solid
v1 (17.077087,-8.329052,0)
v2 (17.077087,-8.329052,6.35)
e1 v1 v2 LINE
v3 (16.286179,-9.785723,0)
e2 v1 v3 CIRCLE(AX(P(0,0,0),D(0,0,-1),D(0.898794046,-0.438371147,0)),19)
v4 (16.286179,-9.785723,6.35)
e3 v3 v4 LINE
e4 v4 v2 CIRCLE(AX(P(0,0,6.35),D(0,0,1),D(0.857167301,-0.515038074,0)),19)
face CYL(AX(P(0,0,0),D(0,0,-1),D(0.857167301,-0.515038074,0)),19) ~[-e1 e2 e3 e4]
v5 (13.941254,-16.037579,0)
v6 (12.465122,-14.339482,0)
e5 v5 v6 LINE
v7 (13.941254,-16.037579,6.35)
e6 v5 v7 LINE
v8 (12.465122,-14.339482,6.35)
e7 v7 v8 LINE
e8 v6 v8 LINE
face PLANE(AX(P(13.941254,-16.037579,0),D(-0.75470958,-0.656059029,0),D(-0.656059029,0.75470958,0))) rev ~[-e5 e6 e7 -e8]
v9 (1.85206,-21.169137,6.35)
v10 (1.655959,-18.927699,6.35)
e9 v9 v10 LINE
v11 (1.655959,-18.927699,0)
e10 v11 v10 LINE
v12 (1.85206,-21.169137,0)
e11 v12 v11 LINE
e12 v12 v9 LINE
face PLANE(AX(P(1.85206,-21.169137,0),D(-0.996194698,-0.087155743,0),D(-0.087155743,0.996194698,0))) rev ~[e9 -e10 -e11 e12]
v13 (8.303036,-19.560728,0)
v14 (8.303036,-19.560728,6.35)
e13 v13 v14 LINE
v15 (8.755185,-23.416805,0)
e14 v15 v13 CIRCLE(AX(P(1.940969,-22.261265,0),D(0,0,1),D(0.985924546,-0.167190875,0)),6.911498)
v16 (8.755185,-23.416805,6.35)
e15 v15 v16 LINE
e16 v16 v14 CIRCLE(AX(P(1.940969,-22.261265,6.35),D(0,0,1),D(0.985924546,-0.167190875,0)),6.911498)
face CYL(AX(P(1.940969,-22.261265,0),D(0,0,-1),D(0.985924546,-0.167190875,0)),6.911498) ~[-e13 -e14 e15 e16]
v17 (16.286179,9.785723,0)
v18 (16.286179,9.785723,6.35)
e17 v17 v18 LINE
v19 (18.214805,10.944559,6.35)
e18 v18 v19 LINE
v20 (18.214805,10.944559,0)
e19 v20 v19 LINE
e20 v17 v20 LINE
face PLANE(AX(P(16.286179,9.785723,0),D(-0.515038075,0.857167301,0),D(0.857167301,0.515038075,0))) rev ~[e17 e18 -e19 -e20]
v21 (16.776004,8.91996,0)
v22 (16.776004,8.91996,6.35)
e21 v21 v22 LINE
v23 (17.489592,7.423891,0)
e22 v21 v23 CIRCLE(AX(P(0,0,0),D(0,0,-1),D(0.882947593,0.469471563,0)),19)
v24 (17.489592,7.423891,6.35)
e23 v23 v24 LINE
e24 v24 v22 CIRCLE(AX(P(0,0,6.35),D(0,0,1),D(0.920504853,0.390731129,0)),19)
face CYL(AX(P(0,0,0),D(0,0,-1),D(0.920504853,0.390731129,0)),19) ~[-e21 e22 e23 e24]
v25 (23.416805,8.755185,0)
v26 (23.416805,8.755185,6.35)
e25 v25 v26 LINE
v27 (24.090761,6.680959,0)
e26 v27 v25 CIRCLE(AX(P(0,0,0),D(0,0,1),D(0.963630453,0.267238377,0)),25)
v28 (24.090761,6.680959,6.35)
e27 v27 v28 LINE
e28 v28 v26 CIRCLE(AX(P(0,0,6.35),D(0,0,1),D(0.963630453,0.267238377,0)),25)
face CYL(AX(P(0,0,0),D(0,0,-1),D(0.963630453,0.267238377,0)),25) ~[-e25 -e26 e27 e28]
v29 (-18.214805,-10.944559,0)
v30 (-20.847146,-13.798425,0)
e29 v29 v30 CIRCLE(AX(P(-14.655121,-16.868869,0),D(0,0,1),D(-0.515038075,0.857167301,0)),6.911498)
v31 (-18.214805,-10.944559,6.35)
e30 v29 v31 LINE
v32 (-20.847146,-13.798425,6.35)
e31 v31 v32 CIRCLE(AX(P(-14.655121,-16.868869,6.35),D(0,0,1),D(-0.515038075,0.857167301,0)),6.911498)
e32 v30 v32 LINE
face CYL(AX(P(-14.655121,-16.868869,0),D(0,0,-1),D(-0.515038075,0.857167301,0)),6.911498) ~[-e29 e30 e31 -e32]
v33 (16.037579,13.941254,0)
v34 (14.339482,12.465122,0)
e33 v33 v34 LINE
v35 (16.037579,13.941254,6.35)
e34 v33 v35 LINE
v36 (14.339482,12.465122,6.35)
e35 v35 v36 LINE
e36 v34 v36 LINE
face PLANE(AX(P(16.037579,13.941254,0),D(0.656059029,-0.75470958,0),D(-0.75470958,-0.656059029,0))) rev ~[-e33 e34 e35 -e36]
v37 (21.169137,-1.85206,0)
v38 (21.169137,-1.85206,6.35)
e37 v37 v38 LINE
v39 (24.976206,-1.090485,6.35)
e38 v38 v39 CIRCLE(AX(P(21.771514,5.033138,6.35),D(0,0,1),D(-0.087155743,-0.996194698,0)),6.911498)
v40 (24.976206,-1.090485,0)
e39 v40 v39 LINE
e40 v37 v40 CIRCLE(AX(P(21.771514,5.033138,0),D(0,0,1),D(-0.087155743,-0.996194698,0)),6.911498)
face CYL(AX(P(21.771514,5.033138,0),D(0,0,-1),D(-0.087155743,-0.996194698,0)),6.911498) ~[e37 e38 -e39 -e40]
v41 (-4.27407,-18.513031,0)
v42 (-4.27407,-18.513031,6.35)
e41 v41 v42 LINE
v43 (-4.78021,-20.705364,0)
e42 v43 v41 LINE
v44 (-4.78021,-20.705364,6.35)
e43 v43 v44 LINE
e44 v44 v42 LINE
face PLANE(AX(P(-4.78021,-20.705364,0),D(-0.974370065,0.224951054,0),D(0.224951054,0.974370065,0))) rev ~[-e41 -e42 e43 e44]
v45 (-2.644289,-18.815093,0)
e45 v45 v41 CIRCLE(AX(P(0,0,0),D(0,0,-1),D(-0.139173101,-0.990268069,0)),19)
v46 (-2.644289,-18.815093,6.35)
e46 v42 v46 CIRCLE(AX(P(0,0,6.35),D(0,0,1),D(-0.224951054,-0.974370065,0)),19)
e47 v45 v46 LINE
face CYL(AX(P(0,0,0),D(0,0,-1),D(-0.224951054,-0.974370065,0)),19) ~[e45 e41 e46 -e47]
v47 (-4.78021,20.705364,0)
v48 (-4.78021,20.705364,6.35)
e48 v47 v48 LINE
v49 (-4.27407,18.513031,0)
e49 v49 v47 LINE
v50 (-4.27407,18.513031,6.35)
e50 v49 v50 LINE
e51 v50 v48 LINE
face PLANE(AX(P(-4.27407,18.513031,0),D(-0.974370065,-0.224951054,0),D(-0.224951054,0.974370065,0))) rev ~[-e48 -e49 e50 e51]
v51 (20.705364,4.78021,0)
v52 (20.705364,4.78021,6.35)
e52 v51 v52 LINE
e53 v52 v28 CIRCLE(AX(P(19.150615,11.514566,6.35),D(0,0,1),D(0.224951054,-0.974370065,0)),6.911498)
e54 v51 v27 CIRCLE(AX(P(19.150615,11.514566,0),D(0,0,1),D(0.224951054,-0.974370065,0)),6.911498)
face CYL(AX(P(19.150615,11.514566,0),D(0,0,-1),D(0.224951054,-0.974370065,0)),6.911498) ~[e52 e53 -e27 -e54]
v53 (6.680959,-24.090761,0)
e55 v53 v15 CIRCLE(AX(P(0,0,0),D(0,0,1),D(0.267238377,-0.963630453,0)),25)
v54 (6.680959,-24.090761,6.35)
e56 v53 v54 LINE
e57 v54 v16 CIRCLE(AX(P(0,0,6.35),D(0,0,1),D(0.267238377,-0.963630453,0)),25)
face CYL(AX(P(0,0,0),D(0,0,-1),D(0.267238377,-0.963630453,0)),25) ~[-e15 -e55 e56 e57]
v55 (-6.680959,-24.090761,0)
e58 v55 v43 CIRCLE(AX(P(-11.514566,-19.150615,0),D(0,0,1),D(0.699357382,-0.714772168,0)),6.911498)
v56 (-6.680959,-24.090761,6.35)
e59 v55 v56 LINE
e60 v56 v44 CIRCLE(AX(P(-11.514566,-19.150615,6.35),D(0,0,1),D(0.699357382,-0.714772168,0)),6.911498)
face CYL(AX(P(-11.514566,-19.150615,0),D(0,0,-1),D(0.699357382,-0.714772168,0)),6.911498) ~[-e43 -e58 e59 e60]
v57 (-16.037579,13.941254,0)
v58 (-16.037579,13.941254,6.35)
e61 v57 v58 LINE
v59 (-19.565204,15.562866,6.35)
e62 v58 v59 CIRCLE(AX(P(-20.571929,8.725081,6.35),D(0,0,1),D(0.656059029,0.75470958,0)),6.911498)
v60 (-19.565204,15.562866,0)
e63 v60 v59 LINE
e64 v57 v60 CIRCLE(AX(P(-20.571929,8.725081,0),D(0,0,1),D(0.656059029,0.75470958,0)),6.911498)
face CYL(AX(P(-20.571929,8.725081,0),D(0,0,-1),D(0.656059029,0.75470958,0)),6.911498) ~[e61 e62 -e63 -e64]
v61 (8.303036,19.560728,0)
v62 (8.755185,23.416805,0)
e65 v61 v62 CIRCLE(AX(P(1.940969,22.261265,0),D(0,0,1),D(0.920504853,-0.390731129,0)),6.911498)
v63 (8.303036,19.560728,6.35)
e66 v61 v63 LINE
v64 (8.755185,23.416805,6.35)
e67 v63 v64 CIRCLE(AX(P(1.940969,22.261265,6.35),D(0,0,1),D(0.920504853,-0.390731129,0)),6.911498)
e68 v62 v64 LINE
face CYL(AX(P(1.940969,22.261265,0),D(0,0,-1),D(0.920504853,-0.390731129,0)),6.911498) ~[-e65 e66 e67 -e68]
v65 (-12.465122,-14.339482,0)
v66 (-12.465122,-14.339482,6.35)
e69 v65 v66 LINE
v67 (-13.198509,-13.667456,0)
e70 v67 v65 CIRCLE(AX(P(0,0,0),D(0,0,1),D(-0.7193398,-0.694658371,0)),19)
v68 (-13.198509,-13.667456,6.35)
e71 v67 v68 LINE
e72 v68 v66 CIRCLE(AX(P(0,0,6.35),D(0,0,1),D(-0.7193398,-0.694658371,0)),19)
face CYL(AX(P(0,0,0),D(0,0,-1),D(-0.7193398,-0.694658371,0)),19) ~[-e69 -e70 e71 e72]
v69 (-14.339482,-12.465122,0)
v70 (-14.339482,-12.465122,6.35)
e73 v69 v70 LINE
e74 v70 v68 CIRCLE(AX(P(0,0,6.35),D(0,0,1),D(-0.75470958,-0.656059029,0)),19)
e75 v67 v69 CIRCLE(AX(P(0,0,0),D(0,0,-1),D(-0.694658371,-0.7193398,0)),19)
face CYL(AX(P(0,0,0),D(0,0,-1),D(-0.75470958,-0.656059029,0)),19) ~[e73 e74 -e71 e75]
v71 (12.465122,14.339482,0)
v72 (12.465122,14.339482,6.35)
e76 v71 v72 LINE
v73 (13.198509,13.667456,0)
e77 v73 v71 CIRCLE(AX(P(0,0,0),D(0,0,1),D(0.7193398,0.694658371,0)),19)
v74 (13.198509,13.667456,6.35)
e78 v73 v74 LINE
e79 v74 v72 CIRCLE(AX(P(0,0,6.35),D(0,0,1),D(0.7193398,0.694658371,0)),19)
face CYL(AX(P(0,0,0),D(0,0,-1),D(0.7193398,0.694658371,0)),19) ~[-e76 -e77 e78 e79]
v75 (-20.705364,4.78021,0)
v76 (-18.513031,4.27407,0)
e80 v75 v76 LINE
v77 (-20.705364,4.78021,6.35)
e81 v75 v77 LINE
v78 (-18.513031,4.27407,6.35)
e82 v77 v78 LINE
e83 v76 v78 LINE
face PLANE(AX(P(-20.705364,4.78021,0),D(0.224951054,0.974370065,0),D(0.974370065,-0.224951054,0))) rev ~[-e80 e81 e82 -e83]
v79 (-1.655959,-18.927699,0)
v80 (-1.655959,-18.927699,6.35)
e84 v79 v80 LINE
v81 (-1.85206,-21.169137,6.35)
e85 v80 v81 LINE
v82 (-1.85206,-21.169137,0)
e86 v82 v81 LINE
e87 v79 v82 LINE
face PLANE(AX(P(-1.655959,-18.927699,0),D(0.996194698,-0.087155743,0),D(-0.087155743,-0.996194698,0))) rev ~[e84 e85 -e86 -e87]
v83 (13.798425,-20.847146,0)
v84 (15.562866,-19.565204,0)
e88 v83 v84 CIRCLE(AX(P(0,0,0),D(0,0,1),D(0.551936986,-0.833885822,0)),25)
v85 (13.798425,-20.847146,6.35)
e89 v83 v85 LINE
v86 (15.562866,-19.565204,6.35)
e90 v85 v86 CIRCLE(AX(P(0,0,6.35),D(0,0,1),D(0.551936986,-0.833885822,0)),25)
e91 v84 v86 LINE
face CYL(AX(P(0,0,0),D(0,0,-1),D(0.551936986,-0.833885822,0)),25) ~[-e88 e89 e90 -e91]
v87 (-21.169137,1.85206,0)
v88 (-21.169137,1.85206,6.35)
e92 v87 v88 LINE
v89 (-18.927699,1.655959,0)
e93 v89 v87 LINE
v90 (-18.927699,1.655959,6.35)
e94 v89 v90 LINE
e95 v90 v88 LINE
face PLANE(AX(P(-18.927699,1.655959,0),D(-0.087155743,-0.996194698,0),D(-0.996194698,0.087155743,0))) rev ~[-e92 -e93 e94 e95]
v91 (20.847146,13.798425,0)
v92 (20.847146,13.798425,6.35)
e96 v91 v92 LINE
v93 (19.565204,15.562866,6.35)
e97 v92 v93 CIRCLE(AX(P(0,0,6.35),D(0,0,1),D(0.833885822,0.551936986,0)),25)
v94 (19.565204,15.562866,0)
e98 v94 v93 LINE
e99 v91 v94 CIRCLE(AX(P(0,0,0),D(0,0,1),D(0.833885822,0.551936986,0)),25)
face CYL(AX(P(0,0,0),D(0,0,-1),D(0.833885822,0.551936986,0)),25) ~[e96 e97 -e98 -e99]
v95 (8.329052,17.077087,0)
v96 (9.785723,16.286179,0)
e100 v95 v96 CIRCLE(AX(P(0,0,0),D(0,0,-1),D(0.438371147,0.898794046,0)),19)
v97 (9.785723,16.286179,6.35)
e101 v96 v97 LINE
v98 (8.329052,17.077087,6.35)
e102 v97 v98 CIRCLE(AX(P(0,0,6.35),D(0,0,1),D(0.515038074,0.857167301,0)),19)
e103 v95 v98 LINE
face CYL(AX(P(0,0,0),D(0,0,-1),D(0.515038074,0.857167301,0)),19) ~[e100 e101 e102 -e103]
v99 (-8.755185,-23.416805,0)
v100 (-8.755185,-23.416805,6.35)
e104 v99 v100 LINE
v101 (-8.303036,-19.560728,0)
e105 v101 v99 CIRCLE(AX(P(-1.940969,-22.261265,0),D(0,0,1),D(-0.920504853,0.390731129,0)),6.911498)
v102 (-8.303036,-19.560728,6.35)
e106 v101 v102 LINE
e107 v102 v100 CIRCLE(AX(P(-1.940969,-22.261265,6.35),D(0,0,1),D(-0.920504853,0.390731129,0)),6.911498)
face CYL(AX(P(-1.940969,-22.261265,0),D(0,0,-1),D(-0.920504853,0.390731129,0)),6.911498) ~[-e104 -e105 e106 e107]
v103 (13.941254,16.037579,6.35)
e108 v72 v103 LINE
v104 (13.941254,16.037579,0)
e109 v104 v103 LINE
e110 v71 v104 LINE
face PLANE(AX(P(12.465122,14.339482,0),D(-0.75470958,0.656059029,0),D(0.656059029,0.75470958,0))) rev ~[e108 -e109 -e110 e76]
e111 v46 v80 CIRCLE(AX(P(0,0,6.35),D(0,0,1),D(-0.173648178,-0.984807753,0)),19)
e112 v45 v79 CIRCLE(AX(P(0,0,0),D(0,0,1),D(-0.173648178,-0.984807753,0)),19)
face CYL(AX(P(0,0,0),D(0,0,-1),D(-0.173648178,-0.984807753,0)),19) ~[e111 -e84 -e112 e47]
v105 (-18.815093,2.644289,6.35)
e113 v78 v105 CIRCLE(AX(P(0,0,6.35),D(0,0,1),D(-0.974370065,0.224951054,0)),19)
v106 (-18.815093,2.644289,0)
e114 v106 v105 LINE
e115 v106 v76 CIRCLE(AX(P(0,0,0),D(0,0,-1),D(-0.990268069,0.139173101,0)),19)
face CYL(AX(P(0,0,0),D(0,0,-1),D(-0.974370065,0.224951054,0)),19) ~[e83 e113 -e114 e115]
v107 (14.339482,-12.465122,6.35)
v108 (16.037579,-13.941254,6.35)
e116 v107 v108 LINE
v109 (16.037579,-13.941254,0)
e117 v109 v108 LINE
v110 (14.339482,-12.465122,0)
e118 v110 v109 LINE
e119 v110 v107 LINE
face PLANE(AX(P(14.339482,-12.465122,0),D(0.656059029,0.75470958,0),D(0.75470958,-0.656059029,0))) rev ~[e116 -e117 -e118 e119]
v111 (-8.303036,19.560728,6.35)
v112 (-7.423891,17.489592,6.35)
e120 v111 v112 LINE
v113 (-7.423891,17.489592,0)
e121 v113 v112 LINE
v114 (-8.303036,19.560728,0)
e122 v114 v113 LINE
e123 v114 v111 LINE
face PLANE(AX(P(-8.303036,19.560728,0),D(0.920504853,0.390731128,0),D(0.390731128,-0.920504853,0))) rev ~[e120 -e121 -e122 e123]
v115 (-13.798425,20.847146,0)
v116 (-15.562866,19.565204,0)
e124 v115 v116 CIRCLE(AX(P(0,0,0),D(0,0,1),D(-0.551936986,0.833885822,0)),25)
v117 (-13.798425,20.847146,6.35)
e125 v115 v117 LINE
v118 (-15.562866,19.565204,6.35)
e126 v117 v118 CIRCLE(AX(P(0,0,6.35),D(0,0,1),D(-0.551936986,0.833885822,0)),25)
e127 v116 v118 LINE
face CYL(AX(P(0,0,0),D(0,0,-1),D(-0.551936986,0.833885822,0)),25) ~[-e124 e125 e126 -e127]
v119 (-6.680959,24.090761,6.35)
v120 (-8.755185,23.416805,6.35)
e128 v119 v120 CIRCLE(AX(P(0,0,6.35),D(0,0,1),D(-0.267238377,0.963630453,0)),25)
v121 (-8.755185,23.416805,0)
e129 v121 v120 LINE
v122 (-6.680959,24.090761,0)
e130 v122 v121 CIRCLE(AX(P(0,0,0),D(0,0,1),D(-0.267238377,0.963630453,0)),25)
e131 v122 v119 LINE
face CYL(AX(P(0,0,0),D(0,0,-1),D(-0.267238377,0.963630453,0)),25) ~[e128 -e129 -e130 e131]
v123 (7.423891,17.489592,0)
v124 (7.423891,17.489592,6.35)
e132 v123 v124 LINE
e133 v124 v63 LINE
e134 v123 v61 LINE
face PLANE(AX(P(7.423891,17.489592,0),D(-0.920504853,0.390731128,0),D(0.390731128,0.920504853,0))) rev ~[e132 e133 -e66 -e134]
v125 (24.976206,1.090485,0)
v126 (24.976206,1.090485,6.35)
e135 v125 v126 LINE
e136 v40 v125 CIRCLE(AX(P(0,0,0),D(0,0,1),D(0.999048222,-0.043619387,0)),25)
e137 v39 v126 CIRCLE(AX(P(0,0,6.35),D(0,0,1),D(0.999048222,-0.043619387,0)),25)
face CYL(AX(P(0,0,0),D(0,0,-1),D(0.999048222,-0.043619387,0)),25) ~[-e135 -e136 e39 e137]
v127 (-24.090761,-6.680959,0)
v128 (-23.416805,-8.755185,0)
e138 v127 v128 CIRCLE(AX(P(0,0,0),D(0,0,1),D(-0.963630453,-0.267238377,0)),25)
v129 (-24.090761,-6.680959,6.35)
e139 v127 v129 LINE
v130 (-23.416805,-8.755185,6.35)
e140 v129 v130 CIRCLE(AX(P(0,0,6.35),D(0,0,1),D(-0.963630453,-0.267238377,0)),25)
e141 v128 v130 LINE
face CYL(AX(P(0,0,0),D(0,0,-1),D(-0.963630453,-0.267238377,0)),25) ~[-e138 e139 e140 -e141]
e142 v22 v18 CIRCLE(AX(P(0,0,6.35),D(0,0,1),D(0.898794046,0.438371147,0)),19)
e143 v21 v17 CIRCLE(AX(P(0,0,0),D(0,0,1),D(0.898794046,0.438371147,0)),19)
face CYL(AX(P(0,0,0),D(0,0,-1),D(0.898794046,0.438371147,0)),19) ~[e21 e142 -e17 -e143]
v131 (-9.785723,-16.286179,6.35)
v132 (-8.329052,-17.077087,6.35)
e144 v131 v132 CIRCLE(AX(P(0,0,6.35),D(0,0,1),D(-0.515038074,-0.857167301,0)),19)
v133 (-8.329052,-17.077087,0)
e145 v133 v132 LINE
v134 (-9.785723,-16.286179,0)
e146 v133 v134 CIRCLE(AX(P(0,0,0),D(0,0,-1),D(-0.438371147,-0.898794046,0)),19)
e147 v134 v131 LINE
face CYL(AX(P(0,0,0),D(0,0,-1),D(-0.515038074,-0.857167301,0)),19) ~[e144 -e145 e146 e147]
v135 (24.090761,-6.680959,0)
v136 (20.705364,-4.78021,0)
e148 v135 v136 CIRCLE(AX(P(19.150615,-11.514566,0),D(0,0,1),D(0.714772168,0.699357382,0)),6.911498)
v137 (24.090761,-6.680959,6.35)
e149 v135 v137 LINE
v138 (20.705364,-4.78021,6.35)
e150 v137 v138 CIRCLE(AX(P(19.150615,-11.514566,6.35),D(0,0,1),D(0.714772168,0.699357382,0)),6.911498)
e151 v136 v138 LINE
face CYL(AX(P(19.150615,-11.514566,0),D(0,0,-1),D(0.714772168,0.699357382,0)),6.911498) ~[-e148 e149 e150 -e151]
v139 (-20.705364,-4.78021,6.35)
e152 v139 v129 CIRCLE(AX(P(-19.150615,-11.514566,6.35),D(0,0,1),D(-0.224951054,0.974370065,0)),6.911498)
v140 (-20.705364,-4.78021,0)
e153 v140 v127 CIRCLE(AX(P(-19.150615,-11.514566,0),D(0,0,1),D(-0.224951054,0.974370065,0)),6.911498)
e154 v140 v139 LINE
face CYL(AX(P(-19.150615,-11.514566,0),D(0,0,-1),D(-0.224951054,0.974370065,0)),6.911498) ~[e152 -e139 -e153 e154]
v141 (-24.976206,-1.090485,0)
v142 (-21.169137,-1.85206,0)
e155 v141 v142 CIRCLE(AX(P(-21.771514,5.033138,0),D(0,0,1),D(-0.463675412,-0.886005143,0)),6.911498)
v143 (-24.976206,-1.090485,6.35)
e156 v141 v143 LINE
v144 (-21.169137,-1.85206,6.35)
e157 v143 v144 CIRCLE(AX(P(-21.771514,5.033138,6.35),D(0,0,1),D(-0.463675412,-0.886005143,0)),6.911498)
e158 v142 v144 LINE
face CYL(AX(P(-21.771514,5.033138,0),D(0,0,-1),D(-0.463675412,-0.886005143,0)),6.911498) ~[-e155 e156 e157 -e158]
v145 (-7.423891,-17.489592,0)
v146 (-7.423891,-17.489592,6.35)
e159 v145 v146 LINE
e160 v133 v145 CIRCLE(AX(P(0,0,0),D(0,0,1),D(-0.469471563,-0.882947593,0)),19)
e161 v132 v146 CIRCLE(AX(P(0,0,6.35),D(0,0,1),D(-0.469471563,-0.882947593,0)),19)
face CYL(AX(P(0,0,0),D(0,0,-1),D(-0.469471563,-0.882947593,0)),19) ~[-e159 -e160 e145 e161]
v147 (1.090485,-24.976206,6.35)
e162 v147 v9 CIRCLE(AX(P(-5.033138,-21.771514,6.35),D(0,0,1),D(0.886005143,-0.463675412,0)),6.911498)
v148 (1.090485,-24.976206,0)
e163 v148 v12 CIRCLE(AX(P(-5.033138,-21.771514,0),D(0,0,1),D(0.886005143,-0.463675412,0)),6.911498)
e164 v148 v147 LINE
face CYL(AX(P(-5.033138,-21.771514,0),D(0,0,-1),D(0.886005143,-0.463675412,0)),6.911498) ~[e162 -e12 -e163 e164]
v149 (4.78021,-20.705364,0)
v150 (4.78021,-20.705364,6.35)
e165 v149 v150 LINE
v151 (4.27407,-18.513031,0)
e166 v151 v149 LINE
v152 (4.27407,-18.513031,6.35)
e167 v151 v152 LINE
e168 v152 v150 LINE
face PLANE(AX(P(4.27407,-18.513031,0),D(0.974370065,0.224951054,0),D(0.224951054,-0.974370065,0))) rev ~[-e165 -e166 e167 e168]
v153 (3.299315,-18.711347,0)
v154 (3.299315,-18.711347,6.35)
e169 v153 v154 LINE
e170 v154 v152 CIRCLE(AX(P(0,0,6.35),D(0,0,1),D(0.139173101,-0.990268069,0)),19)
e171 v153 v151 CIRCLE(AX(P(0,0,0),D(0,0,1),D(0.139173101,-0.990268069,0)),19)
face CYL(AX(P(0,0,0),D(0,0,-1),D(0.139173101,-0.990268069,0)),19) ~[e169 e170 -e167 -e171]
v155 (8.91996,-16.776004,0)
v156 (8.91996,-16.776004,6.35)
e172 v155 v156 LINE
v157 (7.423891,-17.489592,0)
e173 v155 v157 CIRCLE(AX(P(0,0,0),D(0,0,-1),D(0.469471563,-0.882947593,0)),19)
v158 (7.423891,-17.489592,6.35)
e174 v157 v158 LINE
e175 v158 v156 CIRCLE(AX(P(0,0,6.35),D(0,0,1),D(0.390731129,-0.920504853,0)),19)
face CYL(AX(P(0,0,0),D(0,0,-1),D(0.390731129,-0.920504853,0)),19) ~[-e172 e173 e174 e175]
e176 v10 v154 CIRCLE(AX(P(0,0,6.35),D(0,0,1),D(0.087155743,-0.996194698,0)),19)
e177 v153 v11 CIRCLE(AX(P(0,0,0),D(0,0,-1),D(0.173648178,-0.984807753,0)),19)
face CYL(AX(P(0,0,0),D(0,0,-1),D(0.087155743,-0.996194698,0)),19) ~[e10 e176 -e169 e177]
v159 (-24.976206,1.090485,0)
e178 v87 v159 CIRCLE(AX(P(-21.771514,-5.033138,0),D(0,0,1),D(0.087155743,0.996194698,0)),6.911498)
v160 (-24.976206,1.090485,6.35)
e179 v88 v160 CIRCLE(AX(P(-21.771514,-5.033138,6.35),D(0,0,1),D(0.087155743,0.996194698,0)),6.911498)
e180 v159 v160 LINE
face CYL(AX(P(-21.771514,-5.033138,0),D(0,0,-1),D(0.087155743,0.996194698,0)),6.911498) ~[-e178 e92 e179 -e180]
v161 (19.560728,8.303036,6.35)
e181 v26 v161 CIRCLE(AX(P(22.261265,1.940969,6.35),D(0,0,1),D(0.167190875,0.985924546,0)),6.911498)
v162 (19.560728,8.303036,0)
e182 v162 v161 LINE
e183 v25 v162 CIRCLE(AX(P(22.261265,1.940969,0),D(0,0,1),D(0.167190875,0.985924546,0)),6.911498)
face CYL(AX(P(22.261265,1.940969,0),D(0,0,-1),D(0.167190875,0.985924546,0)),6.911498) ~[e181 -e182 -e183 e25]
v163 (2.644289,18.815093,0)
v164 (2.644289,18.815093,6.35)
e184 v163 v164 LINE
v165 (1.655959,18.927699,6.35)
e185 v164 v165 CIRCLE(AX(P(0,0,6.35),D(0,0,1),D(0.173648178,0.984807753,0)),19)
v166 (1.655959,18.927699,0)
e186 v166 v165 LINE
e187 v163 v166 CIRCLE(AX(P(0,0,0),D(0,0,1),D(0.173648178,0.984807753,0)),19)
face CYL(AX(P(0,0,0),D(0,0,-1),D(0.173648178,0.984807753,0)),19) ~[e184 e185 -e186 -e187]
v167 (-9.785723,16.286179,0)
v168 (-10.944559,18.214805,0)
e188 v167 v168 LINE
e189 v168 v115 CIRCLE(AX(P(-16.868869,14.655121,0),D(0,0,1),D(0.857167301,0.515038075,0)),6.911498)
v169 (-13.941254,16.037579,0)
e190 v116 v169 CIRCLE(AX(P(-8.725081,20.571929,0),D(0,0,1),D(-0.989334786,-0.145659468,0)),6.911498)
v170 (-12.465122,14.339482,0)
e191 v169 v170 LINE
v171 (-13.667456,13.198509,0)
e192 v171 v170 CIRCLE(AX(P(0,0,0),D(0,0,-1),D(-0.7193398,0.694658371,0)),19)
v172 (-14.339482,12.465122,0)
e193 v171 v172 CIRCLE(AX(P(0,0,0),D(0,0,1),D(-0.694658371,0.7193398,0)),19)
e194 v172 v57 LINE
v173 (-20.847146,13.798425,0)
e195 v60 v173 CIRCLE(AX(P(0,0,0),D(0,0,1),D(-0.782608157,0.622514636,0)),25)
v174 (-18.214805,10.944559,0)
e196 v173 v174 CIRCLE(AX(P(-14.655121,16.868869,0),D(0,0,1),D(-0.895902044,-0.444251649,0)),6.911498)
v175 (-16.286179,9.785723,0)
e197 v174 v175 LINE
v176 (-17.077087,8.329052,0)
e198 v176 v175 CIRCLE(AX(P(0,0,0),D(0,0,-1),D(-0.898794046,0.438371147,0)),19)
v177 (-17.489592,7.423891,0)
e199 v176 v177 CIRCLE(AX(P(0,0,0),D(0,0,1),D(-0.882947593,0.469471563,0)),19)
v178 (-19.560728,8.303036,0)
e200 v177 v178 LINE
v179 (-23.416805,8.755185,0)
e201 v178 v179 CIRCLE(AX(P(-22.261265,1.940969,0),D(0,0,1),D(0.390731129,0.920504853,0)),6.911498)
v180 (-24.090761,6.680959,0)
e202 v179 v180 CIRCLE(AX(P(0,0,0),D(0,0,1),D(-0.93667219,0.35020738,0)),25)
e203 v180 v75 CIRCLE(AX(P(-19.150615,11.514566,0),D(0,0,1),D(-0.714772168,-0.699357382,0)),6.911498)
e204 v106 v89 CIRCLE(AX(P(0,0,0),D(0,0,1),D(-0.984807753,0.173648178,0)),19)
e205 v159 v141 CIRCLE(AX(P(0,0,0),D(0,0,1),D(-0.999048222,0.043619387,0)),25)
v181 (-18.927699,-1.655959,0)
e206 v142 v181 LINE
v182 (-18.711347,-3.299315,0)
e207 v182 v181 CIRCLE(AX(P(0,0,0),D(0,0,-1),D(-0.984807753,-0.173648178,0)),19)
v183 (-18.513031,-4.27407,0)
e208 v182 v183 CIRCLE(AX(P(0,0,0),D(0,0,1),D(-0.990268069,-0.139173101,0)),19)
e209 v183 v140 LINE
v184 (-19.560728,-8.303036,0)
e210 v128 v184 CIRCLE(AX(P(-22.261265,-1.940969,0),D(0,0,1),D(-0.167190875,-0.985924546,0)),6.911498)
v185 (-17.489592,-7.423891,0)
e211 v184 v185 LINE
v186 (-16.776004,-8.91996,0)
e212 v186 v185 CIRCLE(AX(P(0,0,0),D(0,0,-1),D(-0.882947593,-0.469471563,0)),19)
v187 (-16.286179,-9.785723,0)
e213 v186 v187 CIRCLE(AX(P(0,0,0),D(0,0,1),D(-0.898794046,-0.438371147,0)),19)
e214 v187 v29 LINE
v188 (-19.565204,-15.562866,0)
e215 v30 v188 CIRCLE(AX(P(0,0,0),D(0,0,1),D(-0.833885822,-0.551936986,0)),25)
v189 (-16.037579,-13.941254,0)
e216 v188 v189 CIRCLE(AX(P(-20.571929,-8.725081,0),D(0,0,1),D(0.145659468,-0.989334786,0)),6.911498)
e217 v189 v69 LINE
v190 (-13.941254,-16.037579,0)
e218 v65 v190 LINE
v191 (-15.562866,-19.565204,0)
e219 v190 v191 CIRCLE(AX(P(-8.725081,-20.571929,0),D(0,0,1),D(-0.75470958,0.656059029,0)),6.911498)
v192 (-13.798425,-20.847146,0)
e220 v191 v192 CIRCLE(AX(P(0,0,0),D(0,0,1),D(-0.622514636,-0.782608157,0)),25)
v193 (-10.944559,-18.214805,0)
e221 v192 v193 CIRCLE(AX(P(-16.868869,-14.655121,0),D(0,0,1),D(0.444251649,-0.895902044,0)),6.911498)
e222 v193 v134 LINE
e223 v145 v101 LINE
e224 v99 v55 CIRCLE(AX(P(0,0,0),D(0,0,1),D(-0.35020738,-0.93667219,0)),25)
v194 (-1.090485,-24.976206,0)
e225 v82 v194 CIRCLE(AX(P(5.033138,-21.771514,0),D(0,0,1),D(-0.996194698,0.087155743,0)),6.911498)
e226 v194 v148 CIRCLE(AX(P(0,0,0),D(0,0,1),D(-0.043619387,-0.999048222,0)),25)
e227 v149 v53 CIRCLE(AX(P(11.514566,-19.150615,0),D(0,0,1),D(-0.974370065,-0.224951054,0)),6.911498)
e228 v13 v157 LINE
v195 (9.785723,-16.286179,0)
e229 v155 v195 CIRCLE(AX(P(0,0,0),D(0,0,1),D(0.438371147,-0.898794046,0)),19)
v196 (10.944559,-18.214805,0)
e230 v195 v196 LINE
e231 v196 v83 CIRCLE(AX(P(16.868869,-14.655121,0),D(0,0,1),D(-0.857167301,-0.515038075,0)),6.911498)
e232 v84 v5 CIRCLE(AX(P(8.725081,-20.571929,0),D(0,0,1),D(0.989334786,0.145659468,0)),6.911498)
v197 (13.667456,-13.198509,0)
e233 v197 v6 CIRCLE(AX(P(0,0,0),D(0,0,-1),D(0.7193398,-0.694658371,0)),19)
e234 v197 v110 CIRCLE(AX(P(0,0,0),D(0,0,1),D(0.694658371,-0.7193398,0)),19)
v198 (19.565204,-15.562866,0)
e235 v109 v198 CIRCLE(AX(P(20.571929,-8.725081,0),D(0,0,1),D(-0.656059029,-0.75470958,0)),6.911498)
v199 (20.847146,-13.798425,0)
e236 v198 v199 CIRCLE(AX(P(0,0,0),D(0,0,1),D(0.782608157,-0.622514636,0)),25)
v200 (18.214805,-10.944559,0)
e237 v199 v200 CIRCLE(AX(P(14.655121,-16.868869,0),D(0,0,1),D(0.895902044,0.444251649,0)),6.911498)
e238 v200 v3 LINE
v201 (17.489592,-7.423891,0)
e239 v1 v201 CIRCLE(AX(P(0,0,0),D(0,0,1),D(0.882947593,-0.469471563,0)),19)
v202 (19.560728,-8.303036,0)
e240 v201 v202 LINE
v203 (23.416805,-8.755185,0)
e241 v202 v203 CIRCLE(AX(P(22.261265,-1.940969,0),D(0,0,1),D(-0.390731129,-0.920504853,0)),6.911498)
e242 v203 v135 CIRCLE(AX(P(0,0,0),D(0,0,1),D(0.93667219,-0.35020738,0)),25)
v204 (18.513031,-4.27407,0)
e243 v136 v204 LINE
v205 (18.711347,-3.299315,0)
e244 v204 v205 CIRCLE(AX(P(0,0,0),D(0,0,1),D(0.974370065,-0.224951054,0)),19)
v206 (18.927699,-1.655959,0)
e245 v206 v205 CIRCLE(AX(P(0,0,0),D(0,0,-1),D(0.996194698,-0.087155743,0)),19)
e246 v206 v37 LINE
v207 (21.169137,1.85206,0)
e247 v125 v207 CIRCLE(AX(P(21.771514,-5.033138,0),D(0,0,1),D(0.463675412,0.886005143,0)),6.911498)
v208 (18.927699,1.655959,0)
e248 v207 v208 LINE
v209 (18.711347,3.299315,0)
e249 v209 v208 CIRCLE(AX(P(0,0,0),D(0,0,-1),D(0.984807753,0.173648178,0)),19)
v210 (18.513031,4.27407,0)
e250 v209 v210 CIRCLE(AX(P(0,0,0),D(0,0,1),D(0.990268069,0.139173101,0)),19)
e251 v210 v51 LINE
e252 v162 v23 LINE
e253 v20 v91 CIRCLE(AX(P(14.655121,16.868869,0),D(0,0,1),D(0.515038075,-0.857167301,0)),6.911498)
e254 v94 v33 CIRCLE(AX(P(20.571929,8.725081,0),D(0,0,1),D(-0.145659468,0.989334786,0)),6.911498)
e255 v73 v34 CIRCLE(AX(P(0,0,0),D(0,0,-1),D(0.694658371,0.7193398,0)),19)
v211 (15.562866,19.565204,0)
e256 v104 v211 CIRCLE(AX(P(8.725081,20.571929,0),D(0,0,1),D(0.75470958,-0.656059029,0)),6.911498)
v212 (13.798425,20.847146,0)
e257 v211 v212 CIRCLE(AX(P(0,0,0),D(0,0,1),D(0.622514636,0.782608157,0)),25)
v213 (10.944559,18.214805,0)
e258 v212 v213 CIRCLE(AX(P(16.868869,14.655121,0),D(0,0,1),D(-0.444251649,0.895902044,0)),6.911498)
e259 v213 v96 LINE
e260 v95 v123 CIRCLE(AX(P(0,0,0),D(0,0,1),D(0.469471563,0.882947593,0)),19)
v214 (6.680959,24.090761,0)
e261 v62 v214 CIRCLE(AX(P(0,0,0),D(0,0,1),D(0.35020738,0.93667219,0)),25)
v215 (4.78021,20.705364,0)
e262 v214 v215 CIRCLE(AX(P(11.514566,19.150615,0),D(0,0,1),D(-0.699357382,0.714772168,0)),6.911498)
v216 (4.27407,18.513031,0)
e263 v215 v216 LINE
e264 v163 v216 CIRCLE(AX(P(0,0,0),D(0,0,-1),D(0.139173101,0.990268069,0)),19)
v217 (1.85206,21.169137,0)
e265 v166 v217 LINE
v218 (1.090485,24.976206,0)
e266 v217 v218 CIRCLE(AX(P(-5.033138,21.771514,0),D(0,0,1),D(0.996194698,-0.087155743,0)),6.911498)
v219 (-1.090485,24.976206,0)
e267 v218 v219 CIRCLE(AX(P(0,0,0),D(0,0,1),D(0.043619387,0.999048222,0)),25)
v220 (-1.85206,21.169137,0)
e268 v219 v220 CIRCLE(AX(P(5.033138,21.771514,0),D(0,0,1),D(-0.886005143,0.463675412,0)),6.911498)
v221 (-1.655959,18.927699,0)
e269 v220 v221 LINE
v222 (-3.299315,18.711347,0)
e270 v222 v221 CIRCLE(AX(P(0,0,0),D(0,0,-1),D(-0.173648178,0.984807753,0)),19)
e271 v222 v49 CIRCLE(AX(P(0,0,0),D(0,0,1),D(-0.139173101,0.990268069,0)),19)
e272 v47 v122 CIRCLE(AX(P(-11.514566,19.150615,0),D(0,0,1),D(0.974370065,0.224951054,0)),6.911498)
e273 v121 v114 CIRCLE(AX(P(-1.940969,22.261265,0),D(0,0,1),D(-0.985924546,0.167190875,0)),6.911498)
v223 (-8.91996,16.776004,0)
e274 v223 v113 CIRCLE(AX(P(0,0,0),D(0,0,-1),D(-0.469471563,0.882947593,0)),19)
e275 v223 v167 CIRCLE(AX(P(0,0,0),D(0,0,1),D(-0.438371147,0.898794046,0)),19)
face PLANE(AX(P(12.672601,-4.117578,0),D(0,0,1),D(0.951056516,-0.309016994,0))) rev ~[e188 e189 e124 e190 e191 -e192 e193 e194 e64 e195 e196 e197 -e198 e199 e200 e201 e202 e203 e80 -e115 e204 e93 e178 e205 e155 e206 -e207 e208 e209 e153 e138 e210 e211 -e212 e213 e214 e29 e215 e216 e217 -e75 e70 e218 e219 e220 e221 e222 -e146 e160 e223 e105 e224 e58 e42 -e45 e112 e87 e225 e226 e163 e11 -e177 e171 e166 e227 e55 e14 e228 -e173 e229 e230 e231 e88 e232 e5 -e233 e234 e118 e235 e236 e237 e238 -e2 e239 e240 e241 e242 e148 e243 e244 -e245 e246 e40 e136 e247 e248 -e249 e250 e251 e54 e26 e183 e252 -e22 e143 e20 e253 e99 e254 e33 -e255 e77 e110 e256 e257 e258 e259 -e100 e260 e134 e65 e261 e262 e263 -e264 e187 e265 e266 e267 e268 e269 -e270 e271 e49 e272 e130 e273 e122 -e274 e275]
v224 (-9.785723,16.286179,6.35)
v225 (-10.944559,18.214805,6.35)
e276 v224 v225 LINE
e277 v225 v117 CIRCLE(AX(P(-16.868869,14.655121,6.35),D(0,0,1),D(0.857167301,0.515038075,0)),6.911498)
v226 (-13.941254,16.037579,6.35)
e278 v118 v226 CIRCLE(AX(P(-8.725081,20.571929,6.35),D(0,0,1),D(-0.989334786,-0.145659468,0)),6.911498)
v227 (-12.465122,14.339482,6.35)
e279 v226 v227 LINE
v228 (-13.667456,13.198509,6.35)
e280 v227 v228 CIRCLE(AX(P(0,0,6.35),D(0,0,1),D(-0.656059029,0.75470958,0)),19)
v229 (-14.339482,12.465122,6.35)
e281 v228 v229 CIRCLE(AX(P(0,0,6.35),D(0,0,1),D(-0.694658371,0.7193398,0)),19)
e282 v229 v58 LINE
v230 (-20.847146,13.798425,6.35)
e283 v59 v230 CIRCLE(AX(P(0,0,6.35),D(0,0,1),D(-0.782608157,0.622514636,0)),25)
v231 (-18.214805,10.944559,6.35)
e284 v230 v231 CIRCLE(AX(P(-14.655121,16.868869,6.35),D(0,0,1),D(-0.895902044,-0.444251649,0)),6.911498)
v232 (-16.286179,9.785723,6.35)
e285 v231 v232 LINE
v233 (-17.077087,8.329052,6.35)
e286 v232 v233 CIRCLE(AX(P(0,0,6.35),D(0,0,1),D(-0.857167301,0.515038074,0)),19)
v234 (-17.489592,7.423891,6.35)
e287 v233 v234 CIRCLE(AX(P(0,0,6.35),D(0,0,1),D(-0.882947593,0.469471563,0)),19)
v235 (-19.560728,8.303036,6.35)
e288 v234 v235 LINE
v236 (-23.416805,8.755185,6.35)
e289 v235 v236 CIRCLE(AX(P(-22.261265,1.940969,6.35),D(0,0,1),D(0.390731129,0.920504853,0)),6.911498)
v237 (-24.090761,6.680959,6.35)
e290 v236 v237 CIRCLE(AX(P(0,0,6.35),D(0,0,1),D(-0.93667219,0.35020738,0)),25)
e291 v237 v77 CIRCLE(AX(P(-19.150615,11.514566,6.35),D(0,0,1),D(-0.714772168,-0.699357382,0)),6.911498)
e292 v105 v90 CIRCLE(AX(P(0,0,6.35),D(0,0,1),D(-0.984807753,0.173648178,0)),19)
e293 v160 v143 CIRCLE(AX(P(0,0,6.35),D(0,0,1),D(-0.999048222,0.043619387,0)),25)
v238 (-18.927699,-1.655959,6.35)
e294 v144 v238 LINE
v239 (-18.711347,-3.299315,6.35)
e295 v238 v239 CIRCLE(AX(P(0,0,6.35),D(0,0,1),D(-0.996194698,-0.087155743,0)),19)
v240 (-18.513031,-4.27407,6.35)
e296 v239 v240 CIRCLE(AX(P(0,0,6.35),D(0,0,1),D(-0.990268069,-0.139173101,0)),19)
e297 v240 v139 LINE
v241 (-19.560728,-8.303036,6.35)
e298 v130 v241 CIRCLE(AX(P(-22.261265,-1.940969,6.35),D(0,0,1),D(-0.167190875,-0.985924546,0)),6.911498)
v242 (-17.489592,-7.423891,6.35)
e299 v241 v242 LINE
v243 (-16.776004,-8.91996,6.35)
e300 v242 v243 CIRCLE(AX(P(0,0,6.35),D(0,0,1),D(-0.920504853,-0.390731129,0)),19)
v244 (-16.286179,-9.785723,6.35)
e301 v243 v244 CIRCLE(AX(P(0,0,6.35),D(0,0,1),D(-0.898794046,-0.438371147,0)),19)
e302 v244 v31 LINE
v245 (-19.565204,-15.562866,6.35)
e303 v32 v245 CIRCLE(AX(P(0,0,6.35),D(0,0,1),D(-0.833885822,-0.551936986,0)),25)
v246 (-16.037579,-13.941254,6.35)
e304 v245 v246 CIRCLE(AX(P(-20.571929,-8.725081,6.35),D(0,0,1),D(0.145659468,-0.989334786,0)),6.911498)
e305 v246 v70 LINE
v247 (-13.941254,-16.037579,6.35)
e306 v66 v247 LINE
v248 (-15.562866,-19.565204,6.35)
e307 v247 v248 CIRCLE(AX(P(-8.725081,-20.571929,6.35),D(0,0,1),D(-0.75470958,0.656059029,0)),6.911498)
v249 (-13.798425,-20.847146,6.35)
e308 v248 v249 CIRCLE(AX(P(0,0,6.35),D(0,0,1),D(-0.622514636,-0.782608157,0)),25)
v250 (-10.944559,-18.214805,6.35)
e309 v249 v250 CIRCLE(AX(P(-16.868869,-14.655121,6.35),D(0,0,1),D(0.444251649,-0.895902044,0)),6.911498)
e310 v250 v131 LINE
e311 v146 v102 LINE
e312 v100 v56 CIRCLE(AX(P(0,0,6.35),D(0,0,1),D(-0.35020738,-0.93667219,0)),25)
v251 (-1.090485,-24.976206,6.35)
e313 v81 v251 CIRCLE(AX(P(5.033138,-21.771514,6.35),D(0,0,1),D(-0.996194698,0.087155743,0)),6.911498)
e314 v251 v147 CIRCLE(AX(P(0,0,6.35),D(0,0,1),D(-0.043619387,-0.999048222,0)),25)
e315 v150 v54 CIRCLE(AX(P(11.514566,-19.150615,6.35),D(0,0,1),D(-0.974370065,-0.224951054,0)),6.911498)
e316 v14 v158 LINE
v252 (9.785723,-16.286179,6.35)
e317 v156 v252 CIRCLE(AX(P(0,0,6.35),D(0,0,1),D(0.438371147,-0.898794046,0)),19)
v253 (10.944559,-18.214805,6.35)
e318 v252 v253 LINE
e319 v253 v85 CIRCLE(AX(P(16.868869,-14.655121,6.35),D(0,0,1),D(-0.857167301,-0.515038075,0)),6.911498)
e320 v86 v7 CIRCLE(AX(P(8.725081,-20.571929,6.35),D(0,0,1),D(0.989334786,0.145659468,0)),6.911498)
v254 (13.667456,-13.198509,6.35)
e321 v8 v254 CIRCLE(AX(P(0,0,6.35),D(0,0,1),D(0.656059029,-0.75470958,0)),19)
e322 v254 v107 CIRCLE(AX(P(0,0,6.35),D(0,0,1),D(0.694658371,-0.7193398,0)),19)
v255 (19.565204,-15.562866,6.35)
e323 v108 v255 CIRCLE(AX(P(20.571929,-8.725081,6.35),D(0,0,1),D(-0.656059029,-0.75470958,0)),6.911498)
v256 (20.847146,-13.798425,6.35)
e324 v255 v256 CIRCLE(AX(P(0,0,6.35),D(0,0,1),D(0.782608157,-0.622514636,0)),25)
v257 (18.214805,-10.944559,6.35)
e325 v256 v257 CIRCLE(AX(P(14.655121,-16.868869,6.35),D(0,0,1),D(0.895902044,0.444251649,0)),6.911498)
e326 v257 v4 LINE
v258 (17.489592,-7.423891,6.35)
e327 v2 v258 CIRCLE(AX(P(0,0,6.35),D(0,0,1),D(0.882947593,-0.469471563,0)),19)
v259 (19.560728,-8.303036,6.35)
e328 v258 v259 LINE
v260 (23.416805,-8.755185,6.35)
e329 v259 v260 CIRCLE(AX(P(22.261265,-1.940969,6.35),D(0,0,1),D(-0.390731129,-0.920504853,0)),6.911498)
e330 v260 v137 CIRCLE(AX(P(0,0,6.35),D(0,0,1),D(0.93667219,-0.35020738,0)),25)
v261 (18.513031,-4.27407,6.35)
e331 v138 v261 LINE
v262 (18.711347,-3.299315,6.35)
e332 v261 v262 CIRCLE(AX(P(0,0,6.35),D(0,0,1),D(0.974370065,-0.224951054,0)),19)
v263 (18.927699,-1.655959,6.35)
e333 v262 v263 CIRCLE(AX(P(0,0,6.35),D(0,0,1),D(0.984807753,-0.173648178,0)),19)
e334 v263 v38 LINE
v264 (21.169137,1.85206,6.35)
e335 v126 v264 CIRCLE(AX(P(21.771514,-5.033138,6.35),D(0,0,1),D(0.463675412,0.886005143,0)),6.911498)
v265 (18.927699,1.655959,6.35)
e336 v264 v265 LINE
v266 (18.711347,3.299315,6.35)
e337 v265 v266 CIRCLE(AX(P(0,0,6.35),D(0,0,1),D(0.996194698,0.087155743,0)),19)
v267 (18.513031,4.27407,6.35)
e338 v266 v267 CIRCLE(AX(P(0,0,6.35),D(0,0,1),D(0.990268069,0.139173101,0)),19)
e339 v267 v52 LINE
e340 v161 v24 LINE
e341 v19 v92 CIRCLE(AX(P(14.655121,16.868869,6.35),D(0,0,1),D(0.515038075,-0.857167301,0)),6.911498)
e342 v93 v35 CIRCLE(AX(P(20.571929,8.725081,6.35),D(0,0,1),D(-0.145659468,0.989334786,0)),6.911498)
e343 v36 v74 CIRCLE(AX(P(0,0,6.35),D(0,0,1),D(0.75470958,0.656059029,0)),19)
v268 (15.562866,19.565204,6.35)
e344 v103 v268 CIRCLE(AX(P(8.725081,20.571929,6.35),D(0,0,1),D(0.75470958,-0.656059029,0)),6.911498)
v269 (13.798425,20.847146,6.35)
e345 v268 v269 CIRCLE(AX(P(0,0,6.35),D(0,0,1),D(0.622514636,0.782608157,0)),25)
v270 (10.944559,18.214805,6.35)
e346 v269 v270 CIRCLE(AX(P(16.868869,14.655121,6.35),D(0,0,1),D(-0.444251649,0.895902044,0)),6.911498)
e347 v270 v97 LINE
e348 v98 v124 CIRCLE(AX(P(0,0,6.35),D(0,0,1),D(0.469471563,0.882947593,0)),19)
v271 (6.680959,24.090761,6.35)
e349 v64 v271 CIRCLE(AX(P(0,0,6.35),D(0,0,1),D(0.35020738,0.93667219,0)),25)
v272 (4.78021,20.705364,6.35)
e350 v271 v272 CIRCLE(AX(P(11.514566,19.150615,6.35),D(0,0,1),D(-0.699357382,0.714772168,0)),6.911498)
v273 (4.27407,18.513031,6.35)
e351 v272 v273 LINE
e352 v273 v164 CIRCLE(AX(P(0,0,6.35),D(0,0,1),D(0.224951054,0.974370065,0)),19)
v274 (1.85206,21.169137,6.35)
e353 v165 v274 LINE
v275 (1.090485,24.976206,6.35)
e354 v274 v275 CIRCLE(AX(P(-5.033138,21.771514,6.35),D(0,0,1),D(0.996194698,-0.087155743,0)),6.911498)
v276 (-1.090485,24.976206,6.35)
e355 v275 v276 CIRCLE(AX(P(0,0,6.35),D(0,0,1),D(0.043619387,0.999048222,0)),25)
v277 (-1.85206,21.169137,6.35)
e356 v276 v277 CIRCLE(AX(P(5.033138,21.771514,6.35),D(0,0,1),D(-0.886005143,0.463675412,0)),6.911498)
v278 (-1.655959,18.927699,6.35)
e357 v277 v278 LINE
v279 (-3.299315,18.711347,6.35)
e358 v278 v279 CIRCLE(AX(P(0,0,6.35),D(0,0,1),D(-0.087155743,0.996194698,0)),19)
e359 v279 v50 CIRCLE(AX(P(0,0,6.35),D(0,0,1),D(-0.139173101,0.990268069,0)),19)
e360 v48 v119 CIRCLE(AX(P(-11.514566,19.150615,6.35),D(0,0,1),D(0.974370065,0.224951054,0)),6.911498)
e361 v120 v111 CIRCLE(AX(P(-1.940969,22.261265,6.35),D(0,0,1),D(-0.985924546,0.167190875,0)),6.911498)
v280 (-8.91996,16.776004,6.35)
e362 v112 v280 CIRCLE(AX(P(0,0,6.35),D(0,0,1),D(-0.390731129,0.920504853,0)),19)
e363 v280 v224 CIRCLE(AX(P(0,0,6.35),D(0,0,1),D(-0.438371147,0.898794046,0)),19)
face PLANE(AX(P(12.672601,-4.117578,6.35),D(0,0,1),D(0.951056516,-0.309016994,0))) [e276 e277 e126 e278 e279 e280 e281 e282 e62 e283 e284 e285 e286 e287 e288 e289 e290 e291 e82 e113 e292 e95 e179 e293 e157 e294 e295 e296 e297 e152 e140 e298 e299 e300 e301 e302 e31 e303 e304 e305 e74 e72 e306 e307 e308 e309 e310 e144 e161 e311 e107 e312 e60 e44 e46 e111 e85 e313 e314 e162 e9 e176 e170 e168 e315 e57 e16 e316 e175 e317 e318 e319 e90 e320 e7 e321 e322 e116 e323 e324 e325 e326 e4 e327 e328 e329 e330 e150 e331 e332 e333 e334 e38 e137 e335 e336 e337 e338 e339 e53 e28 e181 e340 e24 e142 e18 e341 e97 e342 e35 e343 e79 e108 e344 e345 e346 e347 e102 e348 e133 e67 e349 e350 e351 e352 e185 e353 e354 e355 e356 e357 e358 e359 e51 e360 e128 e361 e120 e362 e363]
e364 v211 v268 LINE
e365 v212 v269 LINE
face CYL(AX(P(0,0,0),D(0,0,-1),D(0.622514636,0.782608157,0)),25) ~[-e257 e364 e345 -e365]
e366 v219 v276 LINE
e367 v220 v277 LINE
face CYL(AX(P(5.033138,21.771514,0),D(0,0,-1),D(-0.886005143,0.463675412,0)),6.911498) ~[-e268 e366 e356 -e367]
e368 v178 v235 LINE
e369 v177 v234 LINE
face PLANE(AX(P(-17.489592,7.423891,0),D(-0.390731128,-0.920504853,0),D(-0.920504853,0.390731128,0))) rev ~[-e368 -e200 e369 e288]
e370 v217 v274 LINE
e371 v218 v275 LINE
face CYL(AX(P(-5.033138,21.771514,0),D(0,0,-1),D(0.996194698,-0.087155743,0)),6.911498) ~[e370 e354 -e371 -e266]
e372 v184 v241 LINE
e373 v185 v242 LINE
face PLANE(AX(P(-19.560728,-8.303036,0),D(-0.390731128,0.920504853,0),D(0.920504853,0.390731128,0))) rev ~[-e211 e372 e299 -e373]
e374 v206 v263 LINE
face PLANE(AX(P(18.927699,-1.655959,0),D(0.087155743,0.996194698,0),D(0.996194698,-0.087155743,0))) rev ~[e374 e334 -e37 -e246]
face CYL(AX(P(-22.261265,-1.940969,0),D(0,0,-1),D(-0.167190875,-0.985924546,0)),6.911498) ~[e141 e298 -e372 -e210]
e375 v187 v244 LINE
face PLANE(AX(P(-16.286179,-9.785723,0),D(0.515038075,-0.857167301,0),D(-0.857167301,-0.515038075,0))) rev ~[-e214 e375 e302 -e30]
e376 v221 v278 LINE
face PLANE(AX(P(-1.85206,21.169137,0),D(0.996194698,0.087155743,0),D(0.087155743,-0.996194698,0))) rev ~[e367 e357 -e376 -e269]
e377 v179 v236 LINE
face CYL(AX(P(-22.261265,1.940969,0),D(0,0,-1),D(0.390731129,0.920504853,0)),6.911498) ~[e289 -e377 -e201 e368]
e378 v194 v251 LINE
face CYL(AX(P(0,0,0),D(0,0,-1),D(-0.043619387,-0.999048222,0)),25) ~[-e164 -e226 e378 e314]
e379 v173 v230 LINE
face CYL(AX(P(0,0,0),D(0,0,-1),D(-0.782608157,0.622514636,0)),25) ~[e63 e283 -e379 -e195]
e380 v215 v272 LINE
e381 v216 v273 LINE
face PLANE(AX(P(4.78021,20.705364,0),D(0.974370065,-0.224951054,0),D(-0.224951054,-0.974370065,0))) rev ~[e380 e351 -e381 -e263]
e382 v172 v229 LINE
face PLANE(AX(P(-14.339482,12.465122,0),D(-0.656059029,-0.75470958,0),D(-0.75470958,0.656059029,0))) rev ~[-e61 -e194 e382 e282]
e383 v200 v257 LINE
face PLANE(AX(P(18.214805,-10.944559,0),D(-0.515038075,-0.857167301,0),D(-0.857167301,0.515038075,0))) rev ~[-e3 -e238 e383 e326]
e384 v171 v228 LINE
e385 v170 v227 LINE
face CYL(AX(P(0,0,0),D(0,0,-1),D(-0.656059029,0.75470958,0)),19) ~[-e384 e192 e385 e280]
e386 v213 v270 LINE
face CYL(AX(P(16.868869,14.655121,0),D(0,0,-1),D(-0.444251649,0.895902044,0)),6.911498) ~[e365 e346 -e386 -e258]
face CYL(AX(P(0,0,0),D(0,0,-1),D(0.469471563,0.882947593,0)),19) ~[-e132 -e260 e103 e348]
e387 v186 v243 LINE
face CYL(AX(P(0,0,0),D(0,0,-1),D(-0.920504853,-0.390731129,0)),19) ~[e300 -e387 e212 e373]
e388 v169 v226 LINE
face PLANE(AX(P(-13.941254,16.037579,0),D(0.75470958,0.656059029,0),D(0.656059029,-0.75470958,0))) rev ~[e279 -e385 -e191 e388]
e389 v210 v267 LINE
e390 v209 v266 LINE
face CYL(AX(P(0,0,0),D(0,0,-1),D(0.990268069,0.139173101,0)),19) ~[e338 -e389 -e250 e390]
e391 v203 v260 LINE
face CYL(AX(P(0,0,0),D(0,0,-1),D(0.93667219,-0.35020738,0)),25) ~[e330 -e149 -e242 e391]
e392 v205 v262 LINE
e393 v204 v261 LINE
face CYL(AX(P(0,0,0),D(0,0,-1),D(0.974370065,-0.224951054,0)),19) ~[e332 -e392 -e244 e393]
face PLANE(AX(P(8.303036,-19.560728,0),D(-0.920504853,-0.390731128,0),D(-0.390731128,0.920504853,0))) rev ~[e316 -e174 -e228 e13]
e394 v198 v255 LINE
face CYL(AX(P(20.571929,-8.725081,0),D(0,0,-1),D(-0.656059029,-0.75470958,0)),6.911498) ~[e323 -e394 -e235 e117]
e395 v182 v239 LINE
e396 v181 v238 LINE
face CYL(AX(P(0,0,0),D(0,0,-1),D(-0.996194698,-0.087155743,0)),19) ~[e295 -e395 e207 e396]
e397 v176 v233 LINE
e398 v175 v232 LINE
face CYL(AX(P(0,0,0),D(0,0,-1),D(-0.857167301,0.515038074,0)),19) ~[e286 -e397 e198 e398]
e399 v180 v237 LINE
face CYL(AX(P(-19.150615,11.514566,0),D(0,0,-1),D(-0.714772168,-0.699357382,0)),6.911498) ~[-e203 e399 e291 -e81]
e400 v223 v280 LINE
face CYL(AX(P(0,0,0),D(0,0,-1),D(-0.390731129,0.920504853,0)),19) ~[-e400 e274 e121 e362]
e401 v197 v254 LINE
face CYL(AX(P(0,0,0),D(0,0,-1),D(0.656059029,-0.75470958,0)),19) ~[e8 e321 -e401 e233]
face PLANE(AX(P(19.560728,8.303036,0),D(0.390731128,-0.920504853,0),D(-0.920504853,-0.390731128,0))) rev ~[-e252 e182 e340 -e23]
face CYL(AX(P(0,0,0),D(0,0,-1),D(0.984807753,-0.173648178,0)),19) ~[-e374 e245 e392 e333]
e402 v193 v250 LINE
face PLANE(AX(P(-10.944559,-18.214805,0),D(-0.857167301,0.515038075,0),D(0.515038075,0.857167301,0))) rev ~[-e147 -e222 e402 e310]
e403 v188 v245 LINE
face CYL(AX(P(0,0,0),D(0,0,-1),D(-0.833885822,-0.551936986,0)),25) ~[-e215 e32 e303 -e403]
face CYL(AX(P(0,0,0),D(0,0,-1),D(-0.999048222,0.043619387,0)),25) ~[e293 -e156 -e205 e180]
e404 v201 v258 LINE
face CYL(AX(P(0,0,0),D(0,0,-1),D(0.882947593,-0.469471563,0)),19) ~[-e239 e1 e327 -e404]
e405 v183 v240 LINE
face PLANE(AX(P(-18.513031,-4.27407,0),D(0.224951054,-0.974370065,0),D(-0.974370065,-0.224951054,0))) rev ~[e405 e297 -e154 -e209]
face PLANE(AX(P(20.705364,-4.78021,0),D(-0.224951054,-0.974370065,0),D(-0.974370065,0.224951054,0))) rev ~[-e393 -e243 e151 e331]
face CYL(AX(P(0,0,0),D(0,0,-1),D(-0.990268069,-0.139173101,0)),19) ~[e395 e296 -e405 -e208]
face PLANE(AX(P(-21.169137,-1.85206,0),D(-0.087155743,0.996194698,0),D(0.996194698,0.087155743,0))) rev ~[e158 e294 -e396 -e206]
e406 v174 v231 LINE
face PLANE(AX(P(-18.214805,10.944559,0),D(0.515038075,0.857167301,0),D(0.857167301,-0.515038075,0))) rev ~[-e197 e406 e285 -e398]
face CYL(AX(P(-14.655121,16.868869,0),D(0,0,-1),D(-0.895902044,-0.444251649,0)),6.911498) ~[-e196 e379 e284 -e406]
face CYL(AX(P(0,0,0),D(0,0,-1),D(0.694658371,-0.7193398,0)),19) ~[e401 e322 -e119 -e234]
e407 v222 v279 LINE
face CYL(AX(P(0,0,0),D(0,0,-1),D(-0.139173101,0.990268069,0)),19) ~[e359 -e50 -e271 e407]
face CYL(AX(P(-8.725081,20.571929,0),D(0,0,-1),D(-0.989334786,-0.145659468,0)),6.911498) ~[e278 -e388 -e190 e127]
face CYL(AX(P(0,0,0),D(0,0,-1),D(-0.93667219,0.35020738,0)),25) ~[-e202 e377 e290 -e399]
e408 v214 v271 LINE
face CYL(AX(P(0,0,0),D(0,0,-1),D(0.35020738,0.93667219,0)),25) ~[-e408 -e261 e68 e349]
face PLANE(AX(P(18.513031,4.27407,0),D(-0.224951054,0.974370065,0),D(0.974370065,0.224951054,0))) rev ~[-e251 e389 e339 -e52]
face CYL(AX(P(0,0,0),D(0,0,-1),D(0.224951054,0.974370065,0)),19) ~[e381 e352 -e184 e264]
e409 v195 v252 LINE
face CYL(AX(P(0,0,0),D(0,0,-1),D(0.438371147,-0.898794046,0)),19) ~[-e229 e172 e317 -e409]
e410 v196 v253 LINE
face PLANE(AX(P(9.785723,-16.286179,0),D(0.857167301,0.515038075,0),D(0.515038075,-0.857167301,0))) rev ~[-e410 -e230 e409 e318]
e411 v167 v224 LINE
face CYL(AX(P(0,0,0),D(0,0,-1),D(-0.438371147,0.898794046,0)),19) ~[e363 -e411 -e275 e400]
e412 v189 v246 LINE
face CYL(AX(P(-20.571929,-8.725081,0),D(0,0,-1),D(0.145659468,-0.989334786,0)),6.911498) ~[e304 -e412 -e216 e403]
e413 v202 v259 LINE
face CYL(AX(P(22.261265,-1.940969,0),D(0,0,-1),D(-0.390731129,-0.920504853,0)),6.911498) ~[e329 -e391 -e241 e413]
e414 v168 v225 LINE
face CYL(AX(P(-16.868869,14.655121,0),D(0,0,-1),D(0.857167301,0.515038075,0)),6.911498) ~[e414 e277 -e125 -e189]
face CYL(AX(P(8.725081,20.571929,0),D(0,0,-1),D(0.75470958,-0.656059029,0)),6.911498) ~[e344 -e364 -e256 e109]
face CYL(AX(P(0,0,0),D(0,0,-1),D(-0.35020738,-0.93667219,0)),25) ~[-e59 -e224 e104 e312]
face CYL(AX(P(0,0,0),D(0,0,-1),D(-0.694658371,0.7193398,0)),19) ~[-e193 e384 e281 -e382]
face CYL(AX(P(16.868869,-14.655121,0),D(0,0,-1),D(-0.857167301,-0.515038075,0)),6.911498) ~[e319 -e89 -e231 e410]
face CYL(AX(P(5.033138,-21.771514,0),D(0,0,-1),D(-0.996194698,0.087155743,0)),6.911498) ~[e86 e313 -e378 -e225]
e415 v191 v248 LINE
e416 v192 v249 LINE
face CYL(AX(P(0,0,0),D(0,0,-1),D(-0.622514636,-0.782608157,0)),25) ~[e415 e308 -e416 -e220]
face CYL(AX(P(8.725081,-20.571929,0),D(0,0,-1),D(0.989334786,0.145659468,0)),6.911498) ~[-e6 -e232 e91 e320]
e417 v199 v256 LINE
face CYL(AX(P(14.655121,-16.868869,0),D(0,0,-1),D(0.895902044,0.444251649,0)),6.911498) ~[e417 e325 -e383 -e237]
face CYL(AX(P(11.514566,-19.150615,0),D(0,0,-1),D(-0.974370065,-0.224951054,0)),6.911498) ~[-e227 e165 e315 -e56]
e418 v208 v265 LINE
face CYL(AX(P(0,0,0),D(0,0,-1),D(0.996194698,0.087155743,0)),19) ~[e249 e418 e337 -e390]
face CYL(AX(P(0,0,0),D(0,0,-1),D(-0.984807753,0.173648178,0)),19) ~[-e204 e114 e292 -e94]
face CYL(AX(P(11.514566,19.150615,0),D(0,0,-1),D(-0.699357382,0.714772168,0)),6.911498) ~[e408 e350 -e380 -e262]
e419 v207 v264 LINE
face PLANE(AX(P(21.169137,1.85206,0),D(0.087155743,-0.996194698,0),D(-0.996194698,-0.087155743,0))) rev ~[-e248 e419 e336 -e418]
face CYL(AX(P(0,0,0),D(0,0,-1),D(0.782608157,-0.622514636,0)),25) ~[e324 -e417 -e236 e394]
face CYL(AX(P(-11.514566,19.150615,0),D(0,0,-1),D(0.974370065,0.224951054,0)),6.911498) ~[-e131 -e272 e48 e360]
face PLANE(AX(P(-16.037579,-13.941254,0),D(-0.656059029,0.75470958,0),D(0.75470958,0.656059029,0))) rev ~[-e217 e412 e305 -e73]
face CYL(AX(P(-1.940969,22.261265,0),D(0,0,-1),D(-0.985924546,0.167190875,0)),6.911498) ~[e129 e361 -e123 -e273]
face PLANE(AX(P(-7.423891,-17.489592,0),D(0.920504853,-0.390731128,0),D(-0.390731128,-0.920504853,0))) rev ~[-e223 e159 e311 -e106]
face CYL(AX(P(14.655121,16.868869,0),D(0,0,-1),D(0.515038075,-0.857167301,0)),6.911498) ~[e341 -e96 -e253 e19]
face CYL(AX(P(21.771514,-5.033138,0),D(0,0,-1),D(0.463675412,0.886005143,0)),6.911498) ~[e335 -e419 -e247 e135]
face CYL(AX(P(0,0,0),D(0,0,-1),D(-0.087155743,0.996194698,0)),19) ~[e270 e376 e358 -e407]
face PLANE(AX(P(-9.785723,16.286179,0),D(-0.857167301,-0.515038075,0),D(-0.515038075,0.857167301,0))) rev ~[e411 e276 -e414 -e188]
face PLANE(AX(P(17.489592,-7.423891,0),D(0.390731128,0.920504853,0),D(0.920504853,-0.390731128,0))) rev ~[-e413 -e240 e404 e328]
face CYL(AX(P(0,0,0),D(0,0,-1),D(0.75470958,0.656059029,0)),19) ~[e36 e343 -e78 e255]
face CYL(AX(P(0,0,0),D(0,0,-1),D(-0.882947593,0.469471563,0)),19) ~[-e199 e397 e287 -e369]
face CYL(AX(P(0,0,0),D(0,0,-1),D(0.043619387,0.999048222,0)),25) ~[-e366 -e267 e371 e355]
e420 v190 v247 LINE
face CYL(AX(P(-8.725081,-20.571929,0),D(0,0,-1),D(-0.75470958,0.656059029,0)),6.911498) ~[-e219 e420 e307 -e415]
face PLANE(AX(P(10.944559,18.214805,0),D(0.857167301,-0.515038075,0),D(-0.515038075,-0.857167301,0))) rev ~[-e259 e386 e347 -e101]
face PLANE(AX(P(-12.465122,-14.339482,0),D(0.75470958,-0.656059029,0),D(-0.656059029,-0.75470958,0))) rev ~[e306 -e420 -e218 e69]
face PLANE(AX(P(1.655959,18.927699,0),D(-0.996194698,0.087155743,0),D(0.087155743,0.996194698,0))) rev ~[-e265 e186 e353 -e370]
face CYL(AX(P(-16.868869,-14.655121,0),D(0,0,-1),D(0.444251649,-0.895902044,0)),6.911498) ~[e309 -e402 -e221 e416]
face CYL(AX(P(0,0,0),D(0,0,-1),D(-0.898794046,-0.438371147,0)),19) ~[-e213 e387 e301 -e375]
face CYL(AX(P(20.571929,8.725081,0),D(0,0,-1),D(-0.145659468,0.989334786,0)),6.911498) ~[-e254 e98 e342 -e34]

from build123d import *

# Parameters (mm, degrees)
BOSS_EXTRUDE2_DEPTH = 6.35
CIRPATTERN1_COUNT   = 20


with BuildPart() as part:
    # Sketch4 → Boss-Extrude2 (new body)
    with BuildSketch(Plane.XY):
        with BuildLine():
            Line((21.169137334, 1.852059533), (18.927699264, 1.655959112))
            ThreePointArc((18.927699264, 1.655959112), (18.837452366, 2.479997652), (18.711347307, 3.299315376))
            Line((18.711347307, 3.299315376), (0, 0))
            Line((0, 0), (18.711347307, -3.299315376))
            ThreePointArc((18.711347307, -3.299315376), (18.837452366, -2.479997652), (18.927699264, -1.655959112))
            Line((18.927699264, -1.655959112), (21.169137334, -1.852059533))
            ThreePointArc((21.169137334, -1.852059533), (23.12724618, -1.744088061), (24.97620554, -1.090484684))
            ThreePointArc((24.97620554, -1.090484684), (25, 0), (24.97620554, 1.090484684))
            ThreePointArc((24.97620554, 1.090484684), (23.12724618, 1.744088061), (21.169137334, 1.852059533))
        make_face()
    boss_extrude2 = extrude(amount=BOSS_EXTRUDE2_DEPTH)

    # CirPattern1: Boss-Extrude2 ×20 about axis
    cirpattern1_axis = Axis((0, 0, 0), (0, 0, 1))
    for i in range(1, CIRPATTERN1_COUNT):
        add(boss_extrude2.rotate(cirpattern1_axis, i * 360 / CIRPATTERN1_COUNT))


solid = part.part
